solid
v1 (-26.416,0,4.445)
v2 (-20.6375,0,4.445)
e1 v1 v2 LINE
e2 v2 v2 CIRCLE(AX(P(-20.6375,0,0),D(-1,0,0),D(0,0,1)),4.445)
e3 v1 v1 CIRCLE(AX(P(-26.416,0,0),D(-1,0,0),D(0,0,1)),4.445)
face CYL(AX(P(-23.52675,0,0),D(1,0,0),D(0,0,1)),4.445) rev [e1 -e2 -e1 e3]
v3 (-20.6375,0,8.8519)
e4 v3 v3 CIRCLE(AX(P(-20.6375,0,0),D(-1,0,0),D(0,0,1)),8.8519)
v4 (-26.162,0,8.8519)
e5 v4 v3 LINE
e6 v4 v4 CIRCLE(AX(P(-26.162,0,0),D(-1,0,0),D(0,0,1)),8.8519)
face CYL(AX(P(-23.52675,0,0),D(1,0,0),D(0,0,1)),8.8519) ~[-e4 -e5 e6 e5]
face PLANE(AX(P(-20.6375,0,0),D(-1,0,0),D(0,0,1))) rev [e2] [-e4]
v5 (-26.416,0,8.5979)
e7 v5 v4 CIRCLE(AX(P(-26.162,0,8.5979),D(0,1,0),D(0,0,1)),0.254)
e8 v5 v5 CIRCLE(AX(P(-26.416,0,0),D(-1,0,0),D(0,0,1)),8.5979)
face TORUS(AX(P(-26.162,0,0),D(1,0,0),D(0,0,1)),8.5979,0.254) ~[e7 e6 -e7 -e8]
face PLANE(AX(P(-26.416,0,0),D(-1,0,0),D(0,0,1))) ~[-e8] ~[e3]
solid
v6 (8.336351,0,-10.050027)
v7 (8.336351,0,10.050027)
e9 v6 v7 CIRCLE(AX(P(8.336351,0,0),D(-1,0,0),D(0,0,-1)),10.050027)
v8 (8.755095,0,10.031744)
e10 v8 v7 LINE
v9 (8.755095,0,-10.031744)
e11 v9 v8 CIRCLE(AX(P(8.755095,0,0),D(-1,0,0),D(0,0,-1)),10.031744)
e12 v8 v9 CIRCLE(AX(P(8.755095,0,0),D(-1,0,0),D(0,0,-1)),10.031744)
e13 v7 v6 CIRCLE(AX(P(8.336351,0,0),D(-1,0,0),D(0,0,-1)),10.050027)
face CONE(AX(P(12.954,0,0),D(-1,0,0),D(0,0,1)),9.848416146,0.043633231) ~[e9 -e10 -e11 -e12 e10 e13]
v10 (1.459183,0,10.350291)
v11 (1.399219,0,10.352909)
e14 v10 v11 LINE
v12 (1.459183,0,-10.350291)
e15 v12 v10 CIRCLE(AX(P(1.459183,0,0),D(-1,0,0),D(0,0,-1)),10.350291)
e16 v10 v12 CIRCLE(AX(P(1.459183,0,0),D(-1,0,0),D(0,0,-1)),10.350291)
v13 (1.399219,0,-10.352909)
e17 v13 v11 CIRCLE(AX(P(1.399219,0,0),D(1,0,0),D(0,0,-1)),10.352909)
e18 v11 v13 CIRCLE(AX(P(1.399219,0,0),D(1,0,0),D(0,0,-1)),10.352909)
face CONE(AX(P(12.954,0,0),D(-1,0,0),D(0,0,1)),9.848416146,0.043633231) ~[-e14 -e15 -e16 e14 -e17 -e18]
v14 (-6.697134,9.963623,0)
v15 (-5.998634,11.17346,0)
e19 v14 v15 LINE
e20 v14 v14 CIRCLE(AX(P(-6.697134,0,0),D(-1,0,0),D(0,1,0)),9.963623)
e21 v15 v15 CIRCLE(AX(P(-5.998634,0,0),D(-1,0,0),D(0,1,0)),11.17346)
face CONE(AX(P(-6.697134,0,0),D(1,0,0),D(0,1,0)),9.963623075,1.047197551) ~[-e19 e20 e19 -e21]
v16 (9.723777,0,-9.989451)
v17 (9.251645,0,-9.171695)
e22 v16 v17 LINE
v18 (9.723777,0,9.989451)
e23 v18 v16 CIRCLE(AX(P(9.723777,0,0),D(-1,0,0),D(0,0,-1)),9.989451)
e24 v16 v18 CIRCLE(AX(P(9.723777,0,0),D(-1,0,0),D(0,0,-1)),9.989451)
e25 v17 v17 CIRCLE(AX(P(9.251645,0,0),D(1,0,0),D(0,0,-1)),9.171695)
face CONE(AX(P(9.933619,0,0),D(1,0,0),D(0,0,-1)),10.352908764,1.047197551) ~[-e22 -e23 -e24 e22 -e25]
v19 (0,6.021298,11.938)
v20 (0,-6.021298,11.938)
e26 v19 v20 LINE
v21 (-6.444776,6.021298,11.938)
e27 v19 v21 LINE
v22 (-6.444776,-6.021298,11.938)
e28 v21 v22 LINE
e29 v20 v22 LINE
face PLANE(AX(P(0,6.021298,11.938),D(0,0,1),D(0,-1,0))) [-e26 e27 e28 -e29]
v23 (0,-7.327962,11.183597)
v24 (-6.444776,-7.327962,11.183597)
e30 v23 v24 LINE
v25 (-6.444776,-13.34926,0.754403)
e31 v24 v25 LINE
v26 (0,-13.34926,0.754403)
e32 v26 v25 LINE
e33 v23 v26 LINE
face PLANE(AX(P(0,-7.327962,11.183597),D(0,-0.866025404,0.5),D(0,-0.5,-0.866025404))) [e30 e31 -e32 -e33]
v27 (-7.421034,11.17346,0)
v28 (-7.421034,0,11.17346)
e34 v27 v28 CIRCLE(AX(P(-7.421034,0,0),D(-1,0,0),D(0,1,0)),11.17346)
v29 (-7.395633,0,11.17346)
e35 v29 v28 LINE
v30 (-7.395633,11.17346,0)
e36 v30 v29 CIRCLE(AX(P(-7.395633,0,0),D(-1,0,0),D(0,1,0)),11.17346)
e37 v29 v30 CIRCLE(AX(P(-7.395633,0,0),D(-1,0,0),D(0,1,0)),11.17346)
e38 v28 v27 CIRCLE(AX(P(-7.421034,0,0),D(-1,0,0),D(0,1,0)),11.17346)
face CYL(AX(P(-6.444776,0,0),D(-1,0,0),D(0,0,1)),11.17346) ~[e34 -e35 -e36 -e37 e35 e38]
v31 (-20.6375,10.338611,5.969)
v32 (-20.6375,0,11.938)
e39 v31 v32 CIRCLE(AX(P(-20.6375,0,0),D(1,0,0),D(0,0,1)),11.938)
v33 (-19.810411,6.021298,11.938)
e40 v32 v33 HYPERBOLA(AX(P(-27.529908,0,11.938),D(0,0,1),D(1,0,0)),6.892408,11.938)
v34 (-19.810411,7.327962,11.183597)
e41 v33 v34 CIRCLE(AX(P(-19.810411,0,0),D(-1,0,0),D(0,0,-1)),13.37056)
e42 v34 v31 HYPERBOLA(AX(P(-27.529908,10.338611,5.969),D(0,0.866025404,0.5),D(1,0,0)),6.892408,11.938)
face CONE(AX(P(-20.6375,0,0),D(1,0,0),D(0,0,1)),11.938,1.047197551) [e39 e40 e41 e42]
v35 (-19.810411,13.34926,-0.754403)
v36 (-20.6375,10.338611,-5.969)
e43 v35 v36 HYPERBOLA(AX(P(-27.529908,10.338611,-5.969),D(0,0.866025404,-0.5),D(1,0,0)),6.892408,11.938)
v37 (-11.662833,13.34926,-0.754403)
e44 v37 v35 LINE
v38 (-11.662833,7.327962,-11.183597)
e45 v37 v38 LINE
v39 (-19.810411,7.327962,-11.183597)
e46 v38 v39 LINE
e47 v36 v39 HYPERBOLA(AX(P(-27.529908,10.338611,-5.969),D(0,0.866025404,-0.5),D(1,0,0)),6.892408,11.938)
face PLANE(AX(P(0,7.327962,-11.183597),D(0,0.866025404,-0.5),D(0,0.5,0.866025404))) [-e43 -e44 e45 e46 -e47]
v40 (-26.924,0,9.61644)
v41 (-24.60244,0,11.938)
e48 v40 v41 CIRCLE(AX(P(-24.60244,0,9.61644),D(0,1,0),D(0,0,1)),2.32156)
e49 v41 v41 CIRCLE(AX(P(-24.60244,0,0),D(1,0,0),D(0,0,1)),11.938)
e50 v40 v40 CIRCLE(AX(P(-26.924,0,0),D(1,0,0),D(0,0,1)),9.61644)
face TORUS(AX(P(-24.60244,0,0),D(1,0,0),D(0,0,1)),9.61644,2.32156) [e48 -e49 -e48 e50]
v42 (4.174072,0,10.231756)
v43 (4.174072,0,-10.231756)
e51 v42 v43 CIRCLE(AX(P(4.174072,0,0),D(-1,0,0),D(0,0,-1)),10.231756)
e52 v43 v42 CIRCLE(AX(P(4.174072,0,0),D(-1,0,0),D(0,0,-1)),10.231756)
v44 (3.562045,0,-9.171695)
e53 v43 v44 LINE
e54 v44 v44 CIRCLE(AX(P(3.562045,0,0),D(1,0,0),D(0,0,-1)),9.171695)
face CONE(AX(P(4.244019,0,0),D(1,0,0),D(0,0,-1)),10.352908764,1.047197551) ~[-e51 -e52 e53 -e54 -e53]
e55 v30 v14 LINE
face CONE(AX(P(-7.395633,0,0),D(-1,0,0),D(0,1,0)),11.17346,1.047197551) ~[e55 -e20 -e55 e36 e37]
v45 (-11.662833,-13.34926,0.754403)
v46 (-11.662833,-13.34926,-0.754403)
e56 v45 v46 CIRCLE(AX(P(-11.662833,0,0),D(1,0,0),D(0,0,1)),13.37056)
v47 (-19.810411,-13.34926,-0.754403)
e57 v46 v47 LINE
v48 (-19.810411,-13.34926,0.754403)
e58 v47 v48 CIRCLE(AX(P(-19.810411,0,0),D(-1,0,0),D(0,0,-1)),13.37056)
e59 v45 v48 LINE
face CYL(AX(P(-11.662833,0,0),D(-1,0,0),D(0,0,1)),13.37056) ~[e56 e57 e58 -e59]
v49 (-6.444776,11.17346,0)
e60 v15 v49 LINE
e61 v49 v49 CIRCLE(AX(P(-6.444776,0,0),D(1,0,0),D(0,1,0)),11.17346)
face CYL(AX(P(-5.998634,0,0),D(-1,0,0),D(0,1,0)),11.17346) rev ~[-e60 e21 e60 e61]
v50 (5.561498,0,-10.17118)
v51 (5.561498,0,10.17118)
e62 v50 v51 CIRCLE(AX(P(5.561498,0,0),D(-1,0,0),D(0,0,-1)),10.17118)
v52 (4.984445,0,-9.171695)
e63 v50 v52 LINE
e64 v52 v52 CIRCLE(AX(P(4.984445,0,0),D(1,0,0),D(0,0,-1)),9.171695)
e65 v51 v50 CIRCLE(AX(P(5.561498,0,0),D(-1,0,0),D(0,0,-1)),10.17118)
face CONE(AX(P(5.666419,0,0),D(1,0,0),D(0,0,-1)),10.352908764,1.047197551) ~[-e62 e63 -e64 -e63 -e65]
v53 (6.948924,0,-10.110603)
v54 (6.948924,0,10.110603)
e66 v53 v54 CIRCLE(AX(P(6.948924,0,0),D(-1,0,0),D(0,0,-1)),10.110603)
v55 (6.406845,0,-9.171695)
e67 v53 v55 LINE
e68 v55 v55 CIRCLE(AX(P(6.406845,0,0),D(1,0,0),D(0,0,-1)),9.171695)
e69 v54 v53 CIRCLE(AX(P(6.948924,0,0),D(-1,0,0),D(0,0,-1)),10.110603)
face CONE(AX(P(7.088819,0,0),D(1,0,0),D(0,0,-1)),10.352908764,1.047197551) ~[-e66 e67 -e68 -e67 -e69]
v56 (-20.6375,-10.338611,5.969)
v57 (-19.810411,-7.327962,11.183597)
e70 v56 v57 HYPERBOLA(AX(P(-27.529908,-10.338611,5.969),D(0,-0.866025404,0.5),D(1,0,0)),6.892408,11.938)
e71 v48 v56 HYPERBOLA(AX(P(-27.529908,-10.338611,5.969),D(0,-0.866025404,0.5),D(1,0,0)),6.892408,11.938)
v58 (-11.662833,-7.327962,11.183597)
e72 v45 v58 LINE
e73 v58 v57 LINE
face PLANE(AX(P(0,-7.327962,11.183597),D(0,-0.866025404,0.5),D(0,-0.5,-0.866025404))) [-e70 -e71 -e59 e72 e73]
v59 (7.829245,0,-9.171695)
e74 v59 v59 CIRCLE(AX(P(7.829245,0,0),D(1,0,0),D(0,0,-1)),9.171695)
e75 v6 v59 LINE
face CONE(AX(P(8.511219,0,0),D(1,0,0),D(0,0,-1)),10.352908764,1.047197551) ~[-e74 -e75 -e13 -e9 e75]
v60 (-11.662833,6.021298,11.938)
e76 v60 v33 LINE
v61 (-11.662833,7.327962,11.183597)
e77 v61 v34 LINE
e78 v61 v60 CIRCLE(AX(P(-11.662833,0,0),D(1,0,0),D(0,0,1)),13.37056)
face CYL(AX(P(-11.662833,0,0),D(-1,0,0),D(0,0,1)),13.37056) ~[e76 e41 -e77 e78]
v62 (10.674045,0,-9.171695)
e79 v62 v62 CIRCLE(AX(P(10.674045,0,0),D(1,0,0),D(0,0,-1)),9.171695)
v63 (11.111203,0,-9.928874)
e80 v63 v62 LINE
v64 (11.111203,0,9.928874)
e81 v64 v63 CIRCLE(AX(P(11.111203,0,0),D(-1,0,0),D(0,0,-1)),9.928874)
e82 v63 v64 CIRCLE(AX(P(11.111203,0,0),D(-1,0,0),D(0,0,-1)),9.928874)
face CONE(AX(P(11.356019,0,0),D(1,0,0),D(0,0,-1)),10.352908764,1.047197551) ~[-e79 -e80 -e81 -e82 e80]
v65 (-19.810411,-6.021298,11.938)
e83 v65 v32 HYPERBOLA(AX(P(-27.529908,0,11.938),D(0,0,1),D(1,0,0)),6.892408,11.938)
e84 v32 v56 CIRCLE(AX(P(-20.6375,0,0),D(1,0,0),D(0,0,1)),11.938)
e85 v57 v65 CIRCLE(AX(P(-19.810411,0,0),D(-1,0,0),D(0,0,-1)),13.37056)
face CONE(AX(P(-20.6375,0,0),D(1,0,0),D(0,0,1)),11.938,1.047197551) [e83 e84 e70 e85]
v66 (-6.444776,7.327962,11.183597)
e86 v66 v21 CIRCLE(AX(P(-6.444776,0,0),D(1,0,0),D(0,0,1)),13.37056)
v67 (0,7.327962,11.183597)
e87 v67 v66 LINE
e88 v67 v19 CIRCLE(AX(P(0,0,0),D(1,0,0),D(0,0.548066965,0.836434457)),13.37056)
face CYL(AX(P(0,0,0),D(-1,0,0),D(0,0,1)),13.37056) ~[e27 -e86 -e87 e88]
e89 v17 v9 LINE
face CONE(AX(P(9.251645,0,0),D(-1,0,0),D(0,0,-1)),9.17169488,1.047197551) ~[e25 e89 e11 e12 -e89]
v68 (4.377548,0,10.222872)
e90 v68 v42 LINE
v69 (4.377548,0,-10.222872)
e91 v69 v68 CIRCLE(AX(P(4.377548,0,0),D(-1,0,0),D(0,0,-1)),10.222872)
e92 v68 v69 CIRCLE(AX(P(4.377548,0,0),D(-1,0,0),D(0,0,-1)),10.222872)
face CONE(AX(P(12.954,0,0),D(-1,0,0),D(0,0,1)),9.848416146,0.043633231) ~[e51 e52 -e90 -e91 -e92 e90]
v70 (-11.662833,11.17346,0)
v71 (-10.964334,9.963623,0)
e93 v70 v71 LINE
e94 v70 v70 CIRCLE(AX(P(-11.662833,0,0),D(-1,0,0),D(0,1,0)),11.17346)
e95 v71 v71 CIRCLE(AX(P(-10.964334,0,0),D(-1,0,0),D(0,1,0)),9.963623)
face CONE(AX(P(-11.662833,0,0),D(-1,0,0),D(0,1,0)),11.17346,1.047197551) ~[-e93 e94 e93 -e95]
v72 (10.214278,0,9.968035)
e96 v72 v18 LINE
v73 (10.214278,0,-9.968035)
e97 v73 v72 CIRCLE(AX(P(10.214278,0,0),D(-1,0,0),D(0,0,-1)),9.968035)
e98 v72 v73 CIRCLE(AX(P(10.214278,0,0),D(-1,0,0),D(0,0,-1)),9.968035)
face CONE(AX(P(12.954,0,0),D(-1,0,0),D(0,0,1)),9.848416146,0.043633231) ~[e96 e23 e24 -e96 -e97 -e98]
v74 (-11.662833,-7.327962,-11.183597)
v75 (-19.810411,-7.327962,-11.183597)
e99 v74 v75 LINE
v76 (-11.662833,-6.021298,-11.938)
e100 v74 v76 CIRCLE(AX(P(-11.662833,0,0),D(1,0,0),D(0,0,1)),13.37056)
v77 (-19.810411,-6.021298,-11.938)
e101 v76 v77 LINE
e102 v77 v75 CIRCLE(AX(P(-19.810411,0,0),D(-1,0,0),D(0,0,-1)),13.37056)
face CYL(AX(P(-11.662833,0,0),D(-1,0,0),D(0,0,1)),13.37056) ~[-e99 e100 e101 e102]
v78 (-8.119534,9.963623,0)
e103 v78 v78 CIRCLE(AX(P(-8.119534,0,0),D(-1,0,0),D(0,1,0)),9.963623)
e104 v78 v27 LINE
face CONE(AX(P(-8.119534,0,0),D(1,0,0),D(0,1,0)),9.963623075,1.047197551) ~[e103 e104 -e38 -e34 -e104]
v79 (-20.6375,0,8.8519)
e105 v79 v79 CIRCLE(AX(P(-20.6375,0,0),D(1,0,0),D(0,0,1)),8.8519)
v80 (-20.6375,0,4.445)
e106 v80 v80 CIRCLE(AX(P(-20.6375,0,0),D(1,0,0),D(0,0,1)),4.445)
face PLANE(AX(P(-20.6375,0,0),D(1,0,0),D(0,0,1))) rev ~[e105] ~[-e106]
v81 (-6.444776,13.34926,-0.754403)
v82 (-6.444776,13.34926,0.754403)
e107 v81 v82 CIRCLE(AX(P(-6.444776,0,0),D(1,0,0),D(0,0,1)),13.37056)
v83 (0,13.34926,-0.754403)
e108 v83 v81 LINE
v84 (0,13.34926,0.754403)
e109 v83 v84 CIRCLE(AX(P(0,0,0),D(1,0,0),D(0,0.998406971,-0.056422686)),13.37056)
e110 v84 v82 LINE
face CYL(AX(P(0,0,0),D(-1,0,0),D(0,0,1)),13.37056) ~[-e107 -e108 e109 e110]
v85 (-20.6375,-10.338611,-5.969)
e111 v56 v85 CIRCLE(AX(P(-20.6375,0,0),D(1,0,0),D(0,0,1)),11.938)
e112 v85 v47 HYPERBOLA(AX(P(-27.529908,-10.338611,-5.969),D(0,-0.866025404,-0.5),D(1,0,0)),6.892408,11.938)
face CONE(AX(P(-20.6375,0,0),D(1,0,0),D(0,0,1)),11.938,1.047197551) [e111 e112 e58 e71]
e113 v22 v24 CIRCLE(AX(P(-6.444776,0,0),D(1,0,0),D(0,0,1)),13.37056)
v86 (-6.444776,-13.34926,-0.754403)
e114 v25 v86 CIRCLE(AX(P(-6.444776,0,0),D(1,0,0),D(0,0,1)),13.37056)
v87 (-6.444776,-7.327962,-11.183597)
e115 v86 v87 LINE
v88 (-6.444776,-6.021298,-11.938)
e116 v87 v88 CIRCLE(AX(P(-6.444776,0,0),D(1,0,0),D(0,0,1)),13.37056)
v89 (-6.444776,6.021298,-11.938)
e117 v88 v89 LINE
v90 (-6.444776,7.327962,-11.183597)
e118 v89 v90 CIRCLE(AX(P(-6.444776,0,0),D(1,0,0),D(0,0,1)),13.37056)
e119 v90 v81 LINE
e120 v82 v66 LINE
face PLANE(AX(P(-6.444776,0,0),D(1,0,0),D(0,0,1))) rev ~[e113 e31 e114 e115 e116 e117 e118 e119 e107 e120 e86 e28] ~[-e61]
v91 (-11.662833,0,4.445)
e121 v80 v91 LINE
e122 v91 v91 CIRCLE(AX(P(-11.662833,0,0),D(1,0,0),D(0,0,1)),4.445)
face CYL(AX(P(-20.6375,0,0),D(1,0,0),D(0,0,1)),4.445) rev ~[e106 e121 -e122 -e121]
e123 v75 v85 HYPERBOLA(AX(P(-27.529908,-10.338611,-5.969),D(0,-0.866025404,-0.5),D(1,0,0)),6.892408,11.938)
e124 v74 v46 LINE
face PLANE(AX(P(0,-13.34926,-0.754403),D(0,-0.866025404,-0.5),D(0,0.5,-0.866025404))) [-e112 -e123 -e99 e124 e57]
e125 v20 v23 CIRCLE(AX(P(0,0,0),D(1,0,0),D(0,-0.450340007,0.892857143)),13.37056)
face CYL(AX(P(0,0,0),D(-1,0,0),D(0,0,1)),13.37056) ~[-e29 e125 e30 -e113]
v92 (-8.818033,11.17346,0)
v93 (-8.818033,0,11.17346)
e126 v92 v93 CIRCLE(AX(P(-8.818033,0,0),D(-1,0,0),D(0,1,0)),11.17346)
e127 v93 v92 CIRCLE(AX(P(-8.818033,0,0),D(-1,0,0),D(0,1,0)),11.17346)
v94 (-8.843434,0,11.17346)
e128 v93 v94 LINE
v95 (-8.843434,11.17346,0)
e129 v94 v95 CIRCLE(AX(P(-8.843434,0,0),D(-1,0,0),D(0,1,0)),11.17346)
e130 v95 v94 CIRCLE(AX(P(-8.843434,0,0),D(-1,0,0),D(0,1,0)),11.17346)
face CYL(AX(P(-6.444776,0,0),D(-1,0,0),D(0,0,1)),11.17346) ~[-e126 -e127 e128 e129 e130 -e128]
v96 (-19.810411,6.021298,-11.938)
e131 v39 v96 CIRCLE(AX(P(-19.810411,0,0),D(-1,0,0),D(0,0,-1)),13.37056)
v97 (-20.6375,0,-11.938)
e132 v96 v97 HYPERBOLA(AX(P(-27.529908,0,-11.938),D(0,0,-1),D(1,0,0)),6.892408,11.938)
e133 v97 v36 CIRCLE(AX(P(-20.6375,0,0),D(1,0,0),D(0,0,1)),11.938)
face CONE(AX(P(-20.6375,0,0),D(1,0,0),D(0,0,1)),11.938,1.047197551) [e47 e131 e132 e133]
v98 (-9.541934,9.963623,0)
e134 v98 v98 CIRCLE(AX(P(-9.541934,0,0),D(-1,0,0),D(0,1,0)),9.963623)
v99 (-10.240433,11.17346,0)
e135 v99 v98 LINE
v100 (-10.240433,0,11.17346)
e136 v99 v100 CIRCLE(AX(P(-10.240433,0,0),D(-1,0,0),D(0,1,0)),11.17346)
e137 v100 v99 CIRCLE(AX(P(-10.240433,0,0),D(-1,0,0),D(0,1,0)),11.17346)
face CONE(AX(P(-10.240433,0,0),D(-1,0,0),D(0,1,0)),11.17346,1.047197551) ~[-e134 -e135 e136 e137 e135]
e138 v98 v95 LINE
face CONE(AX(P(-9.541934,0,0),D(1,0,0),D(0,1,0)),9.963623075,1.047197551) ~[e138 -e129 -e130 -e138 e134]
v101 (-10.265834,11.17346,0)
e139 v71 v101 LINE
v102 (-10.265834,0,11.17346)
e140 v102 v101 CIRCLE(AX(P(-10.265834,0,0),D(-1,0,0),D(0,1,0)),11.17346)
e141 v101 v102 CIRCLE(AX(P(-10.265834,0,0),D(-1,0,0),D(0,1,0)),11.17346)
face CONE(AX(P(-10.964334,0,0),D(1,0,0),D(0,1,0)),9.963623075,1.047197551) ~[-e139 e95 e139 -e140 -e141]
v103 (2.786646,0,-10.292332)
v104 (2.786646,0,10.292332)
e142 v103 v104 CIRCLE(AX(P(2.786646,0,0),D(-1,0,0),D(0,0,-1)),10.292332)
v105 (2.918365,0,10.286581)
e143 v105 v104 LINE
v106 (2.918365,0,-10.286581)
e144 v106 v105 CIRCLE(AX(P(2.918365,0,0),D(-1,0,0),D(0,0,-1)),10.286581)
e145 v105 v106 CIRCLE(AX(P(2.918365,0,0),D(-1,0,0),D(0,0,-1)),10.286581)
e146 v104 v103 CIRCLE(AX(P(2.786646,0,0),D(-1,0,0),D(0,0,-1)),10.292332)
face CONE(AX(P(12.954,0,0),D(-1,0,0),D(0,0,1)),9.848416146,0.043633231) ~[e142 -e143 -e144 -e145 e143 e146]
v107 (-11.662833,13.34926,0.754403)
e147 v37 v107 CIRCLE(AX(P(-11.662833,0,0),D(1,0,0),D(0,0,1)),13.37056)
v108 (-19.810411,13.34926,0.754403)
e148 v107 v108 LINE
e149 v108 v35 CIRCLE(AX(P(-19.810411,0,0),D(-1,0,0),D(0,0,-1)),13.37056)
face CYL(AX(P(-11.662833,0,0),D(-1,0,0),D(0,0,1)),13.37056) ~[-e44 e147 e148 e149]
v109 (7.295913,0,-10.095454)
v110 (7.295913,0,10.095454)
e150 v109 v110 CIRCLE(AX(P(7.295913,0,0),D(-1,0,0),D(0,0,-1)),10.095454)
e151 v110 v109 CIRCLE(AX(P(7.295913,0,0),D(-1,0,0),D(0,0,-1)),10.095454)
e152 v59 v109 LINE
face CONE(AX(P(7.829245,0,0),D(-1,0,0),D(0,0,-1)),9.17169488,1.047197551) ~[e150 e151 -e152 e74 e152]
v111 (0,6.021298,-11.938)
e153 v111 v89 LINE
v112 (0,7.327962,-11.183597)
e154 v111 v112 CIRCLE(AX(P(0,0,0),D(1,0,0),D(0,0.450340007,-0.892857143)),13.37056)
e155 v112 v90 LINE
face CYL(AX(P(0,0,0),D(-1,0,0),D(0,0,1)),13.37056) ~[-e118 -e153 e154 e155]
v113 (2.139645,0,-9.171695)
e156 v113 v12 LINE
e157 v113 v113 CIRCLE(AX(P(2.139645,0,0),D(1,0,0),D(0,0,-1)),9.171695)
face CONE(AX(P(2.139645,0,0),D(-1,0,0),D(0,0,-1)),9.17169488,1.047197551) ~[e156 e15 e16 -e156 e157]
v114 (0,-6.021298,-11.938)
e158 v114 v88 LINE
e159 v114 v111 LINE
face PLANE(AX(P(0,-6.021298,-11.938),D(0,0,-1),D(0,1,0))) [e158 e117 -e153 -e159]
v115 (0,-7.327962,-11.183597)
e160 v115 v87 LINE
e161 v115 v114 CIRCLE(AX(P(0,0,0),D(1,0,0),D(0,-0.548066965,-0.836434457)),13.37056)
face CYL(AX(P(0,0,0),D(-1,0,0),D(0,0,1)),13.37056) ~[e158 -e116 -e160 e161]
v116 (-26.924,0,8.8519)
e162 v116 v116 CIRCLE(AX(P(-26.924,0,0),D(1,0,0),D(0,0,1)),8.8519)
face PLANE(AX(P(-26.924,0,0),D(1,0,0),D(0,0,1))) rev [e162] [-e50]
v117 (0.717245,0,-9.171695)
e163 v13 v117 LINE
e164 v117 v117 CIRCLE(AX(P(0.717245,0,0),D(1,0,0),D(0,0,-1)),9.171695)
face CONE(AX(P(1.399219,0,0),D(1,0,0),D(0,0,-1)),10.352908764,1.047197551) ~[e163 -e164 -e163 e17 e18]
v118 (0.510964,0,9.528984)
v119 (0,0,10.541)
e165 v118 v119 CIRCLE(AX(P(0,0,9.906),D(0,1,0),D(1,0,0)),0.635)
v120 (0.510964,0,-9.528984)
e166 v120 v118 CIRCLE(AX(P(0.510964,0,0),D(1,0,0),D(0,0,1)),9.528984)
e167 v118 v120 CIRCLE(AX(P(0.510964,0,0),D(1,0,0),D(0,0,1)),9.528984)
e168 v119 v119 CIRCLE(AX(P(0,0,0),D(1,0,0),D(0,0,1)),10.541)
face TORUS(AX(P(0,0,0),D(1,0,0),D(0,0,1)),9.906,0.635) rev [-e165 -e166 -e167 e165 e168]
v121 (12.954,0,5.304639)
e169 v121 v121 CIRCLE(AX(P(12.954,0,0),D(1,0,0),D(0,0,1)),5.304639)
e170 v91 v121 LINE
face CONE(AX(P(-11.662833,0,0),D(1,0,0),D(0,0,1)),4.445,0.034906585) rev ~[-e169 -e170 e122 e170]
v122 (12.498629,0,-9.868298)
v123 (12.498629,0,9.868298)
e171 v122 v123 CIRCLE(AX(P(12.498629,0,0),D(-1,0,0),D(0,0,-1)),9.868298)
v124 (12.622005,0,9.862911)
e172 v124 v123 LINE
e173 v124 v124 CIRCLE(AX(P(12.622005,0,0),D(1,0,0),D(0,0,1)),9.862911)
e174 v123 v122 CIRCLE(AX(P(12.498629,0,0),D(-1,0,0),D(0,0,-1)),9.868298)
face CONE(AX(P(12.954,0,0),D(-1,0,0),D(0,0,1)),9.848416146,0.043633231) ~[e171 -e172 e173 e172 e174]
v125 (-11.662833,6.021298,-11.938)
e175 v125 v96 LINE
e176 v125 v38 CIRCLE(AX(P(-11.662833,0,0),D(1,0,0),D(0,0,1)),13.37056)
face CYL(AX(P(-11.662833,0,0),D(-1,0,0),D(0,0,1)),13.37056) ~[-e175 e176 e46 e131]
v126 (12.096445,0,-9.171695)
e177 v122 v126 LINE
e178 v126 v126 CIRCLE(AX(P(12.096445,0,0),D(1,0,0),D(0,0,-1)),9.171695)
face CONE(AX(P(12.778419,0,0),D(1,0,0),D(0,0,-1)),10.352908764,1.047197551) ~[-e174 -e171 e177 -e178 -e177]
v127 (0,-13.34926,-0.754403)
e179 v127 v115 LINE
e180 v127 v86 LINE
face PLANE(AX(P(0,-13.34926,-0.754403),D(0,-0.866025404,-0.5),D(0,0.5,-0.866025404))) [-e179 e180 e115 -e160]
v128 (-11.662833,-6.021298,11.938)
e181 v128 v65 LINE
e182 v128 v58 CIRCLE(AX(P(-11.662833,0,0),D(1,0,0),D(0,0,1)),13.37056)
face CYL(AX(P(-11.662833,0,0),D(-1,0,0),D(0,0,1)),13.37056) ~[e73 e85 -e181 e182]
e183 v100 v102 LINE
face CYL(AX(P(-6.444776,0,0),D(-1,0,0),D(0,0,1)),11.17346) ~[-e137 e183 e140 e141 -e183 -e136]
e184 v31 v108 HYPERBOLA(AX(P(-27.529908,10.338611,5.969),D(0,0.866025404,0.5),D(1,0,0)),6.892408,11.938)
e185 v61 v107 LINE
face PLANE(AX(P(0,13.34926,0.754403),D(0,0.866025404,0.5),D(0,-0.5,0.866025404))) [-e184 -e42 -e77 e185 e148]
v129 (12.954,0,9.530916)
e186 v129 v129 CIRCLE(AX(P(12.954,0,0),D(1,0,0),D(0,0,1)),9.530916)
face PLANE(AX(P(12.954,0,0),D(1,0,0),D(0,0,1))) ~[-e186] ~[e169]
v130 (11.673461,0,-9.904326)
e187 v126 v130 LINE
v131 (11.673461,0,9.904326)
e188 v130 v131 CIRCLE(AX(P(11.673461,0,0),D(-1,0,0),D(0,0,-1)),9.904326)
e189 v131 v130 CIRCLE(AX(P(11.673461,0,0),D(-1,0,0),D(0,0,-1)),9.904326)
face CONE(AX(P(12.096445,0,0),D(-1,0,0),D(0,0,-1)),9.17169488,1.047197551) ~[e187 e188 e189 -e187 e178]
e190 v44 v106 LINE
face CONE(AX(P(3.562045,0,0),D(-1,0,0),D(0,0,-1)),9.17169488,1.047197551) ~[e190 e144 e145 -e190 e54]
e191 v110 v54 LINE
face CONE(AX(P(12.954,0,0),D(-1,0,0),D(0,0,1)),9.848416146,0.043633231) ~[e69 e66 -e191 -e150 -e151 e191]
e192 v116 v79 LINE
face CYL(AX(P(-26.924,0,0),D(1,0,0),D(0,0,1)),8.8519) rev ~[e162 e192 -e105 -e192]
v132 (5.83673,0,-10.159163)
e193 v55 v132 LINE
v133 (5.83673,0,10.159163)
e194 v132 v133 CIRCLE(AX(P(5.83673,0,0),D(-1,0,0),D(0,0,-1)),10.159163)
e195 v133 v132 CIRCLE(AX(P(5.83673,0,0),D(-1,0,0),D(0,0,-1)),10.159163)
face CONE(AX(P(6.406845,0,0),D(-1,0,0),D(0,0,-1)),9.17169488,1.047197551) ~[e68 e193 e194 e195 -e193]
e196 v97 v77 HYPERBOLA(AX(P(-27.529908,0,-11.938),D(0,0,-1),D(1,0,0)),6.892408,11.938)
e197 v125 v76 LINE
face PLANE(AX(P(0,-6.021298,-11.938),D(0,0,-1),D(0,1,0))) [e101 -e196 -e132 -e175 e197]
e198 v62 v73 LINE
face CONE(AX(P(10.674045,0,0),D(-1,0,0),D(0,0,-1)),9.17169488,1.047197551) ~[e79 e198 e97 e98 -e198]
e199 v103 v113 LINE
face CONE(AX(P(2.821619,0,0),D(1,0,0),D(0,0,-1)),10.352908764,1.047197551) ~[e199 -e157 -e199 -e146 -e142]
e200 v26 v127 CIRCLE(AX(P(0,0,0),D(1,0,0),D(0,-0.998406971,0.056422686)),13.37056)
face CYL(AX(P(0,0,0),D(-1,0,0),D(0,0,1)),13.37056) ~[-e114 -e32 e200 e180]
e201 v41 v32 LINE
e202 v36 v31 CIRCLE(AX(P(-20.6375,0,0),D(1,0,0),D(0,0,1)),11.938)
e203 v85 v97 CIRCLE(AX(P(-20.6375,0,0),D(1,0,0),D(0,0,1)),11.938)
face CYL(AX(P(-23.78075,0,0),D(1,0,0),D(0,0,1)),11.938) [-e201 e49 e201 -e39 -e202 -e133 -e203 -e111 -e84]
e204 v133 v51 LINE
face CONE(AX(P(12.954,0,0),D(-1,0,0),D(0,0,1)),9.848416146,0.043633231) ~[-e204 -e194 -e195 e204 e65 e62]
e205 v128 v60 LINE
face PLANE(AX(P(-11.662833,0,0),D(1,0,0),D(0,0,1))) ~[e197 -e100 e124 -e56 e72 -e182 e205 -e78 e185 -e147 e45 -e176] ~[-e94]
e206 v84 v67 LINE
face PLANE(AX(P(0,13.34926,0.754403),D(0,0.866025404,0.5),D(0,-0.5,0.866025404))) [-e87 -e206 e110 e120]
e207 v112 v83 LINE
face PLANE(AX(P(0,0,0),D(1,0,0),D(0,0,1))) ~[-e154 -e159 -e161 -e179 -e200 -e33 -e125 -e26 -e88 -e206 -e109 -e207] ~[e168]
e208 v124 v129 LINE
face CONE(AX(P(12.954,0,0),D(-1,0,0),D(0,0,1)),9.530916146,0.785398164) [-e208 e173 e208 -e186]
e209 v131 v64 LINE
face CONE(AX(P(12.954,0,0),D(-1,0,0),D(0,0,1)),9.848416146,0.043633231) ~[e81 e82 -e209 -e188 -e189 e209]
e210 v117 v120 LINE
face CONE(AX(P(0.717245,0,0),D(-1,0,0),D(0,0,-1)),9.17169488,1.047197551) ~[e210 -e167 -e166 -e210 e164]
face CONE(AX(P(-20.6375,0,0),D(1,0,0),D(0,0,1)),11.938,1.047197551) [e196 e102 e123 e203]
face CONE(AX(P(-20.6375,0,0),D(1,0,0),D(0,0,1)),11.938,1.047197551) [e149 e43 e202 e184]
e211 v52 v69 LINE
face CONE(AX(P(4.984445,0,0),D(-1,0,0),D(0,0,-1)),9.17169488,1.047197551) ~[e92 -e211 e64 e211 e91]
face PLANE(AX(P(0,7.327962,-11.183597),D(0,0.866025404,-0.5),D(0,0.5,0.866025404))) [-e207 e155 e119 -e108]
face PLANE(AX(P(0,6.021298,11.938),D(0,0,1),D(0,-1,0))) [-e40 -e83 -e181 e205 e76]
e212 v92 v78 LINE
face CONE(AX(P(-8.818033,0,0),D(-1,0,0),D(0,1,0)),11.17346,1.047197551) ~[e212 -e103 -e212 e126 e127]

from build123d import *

# Parameters (mm, degrees)
SKETCH2_OUTSIDE_W  = 39.734
SKETCH2_OUTSIDE_H  = 39.734
CUT_EXTRUDE1_DEPTH = 20.6375
SKETCH14_W         = 6.2865
SKETCH14_H         = 1.397
CHAMFER1_SIZE      = 0.332311511
CHAMFER1_SIZE2     = 0.3175
SKETCH3_OUTSIDE_W  = 156.43
SKETCH3_OUTSIDE_H  = 159.296
SKETCH3_OUTSIDE_R  = 11.938
CUT_EXTRUDE2_DEPTH = 34.5915
CUT_EXTRUDE2_DRAFT = -60
SKETCH16_W         = 5.7785
SKETCH16_H         = 4.4069
FILLET1_R          = 2.32156
LPATTERN1_COUNT    = 4
LPATTERN1_PITCH    = 1.4224
LPATTERN2_COUNT    = 10
LPATTERN2_PITCH    = 1.4224
SKETCH15_R         = 0.635
FILLET4_R          = 0.254


with BuildPart() as part:
    # Sketch1 → Revolve1 (revolve)
    with BuildSketch(Plane.XY, mode=Mode.PRIVATE) as revolve1_sk:
        Polygon((-11.662833333, 11.17346), (-11.662833333, 13.37056), (-20.6375, 13.37056), (-20.6375, 10.541), (-26.924, 10.541), (-26.924, 8.8519), (-20.6375, 8.8519), (-20.6375, 4.445), (-11.662833333, 4.445), (12.954, 5.304638762), (12.954, 9.848416146), (0, 10.414), (0, 13.37056), (-6.444776119, 13.37056), (-6.444776119, 11.17346), align=None)
    revolve(revolve1_sk.sketch.rotate(Axis((-18.386021217, 0, 0), (1, 0, 0)), 90), axis=Axis((-18.386021217, 0, 0), (1, 0, 0)))  # turned: the seam where the file's is

    # Sketch2 outside → Cut-Extrude1 (cut)
    with BuildSketch(Plane(origin=(0, 0, 0), x_dir=(0, 0, -1), z_dir=(1, 0, 0))):
        Rectangle(SKETCH2_OUTSIDE_W, SKETCH2_OUTSIDE_H)
        with BuildLine():
            Line((11.938, -6.021298092), (11.938, 6.021298092))
            ThreePointArc((11.938, 6.021298092), (11.579244623, 6.68528), (11.183597111, 7.327962224))
            Line((11.183597111, 7.327962224), (0.754402889, 13.349260316))
            ThreePointArc((0.754402889, 13.349260316), (0, 13.37056), (-0.754402889, 13.349260316))
            Line((-0.754402889, 13.349260316), (-11.183597111, 7.327962224))
            ThreePointArc((-11.183597111, 7.327962224), (-11.579244623, 6.68528), (-11.938, 6.021298092))
            Line((-11.938, 6.021298092), (-11.938, -6.021298092))
            ThreePointArc((-11.938, -6.021298092), (-11.579244623, -6.68528), (-11.183597111, -7.327962224))
            Line((-11.183597111, -7.327962224), (-0.754402889, -13.349260316))
            ThreePointArc((-0.754402889, -13.349260316), (0, -13.37056), (0.754402889, -13.349260316))
            Line((0.754402889, -13.349260316), (11.183597111, -7.327962224))
            ThreePointArc((11.183597111, -7.327962224), (11.579244623, -6.68528), (11.938, -6.021298092))
        make_face(mode=Mode.SUBTRACT)
    extrude(amount=-CUT_EXTRUDE1_DEPTH, mode=Mode.SUBTRACT)

    # Sketch14 → Revolve4 (revolve)
    with BuildSketch(Plane.XY, mode=Mode.PRIVATE) as revolve4_sk:
        with Locations((-23.78075, 11.2395)):
            Rectangle(SKETCH14_W, SKETCH14_H)
    revolve(revolve4_sk.sketch.rotate(Axis((-18.386021217, 0, 0), (1, 0, 0)), 90), axis=Axis((-18.386021217, 0, 0), (1, 0, 0)))  # turned: the seam where the file's is

    # Chamfer1
    chamfer1_edges = [part.edges().sort_by_distance(p)[0] for p in [
        (12.954, 0, -9.848416146),
    ]]
    chamfer1_side = [part.faces().sort_by_distance(p)[0] for p in [
        (6.477, 0, -10.131208073),
    ]]
    chamfer(chamfer1_edges, length=CHAMFER1_SIZE, length2=CHAMFER1_SIZE2, reference=chamfer1_side[0])


with BuildPart() as cut_extrude2_tool:
    # Sketch3 outside → Cut-Extrude2 (with draft: the straight prism first)
    with BuildSketch(Plane.ZY.offset(20.6375)):
        Rectangle(SKETCH3_OUTSIDE_W, SKETCH3_OUTSIDE_H)
        Circle(SKETCH3_OUTSIDE_R, mode=Mode.SUBTRACT)
    extrude(amount=-CUT_EXTRUDE2_DEPTH)
    # Cut-Extrude2: the draft: its side faces are tilted about the plane it starts from
    cut_extrude2_sides = [cut_extrude2_tool.faces().sort_by_distance(p)[0] for p in [
        (-3.34175, -79.648, 0),
        (-3.34175, 0, 78.215),
        (-3.34175, 79.648, 0),
        (-3.34175, 0, -78.215),
        (-3.34175, 0, -11.938),
    ]]
    draft(cut_extrude2_sides, Plane.ZY.offset(20.6375), CUT_EXTRUDE2_DRAFT)


with BuildPart() as part_1:
    add(part.part)

    # Cut-Extrude2: cut by cut_extrude2_tool
    add(cut_extrude2_tool.part, mode=Mode.SUBTRACT)

    # Fillet1
    fillet1_edges = [part_1.edges().sort_by_distance(p)[0] for p in [
        (-26.924, 0, -11.938),
    ]]
    fillet(fillet1_edges, radius=FILLET1_R)

    # Sketch10 → Cut-Revolve1 (revolve, cut)
    with BuildSketch(Plane.XY):
        Polygon((-11.662833333, 11.17346), (-10.964333659, 9.963623075), (-10.265833985, 11.17346), align=None)
    cut_revolve1 = revolve(axis=Axis((15.58962545, 0, 0), (-1, 0, 0)), mode=Mode.SUBTRACT)

    # LPattern1: Cut-Revolve1 ×4
    with Locations(*[(i * LPATTERN1_PITCH, 0, 0) for i in range(1, LPATTERN1_COUNT)]):
        add(cut_revolve1, mode=Mode.SUBTRACT)

    # Sketch13 → Cut-Revolve2 (revolve, cut)
    with BuildSketch(Plane.XY, mode=Mode.PRIVATE) as cut_revolve2_sk:
        Polygon((0, 10.414), (1.39921935, 10.352908764), (0.717245196, 9.17169488), align=None)
    cut_revolve2 = revolve(cut_revolve2_sk.sketch.rotate(Axis((-18.386021217, 0, 0), (1, 0, 0)), 270), axis=Axis((-18.386021217, 0, 0), (1, 0, 0)), mode=Mode.SUBTRACT)  # turned: the seam where the file's is

    # LPattern2: Cut-Revolve2 ×10
    with Locations(*[(i * LPATTERN2_PITCH, 0, 0) for i in range(1, LPATTERN2_COUNT)]):
        add(cut_revolve2, mode=Mode.SUBTRACT)

    # Sketch15 → Cut-Revolve4 (revolve, cut)
    with BuildSketch(Plane.XY, mode=Mode.PRIVATE) as cut_revolve4_sk:
        with Locations((0, -9.906)):
            Circle(SKETCH15_R)
    revolve(cut_revolve4_sk.sketch.rotate(Axis((10.155027747, 0, 0), (-1, 0, 0)), 90), axis=Axis((10.155027747, 0, 0), (-1, 0, 0)), mode=Mode.SUBTRACT)  # turned: the seam where the file's is


with BuildPart() as body_2:
    # Sketch16 → Revolve5 (revolve)
    with BuildSketch(Plane.XY, mode=Mode.PRIVATE) as revolve5_sk:
        with Locations((-23.52675, 6.64845)):
            Rectangle(SKETCH16_W, SKETCH16_H)
    revolve(revolve5_sk.sketch.rotate(Axis((9.562227286, 0, 0), (-1, 0, 0)), 270), axis=Axis((9.562227286, 0, 0), (-1, 0, 0)))  # turned: the seam where the file's is

    # Fillet4
    fillet4_edges = [body_2.edges().sort_by_distance(p)[0] for p in [
        (-26.416, 0, -8.8519),
    ]]
    fillet(fillet4_edges, radius=FILLET4_R)


solid = Compound([part_1.part, body_2.part])
